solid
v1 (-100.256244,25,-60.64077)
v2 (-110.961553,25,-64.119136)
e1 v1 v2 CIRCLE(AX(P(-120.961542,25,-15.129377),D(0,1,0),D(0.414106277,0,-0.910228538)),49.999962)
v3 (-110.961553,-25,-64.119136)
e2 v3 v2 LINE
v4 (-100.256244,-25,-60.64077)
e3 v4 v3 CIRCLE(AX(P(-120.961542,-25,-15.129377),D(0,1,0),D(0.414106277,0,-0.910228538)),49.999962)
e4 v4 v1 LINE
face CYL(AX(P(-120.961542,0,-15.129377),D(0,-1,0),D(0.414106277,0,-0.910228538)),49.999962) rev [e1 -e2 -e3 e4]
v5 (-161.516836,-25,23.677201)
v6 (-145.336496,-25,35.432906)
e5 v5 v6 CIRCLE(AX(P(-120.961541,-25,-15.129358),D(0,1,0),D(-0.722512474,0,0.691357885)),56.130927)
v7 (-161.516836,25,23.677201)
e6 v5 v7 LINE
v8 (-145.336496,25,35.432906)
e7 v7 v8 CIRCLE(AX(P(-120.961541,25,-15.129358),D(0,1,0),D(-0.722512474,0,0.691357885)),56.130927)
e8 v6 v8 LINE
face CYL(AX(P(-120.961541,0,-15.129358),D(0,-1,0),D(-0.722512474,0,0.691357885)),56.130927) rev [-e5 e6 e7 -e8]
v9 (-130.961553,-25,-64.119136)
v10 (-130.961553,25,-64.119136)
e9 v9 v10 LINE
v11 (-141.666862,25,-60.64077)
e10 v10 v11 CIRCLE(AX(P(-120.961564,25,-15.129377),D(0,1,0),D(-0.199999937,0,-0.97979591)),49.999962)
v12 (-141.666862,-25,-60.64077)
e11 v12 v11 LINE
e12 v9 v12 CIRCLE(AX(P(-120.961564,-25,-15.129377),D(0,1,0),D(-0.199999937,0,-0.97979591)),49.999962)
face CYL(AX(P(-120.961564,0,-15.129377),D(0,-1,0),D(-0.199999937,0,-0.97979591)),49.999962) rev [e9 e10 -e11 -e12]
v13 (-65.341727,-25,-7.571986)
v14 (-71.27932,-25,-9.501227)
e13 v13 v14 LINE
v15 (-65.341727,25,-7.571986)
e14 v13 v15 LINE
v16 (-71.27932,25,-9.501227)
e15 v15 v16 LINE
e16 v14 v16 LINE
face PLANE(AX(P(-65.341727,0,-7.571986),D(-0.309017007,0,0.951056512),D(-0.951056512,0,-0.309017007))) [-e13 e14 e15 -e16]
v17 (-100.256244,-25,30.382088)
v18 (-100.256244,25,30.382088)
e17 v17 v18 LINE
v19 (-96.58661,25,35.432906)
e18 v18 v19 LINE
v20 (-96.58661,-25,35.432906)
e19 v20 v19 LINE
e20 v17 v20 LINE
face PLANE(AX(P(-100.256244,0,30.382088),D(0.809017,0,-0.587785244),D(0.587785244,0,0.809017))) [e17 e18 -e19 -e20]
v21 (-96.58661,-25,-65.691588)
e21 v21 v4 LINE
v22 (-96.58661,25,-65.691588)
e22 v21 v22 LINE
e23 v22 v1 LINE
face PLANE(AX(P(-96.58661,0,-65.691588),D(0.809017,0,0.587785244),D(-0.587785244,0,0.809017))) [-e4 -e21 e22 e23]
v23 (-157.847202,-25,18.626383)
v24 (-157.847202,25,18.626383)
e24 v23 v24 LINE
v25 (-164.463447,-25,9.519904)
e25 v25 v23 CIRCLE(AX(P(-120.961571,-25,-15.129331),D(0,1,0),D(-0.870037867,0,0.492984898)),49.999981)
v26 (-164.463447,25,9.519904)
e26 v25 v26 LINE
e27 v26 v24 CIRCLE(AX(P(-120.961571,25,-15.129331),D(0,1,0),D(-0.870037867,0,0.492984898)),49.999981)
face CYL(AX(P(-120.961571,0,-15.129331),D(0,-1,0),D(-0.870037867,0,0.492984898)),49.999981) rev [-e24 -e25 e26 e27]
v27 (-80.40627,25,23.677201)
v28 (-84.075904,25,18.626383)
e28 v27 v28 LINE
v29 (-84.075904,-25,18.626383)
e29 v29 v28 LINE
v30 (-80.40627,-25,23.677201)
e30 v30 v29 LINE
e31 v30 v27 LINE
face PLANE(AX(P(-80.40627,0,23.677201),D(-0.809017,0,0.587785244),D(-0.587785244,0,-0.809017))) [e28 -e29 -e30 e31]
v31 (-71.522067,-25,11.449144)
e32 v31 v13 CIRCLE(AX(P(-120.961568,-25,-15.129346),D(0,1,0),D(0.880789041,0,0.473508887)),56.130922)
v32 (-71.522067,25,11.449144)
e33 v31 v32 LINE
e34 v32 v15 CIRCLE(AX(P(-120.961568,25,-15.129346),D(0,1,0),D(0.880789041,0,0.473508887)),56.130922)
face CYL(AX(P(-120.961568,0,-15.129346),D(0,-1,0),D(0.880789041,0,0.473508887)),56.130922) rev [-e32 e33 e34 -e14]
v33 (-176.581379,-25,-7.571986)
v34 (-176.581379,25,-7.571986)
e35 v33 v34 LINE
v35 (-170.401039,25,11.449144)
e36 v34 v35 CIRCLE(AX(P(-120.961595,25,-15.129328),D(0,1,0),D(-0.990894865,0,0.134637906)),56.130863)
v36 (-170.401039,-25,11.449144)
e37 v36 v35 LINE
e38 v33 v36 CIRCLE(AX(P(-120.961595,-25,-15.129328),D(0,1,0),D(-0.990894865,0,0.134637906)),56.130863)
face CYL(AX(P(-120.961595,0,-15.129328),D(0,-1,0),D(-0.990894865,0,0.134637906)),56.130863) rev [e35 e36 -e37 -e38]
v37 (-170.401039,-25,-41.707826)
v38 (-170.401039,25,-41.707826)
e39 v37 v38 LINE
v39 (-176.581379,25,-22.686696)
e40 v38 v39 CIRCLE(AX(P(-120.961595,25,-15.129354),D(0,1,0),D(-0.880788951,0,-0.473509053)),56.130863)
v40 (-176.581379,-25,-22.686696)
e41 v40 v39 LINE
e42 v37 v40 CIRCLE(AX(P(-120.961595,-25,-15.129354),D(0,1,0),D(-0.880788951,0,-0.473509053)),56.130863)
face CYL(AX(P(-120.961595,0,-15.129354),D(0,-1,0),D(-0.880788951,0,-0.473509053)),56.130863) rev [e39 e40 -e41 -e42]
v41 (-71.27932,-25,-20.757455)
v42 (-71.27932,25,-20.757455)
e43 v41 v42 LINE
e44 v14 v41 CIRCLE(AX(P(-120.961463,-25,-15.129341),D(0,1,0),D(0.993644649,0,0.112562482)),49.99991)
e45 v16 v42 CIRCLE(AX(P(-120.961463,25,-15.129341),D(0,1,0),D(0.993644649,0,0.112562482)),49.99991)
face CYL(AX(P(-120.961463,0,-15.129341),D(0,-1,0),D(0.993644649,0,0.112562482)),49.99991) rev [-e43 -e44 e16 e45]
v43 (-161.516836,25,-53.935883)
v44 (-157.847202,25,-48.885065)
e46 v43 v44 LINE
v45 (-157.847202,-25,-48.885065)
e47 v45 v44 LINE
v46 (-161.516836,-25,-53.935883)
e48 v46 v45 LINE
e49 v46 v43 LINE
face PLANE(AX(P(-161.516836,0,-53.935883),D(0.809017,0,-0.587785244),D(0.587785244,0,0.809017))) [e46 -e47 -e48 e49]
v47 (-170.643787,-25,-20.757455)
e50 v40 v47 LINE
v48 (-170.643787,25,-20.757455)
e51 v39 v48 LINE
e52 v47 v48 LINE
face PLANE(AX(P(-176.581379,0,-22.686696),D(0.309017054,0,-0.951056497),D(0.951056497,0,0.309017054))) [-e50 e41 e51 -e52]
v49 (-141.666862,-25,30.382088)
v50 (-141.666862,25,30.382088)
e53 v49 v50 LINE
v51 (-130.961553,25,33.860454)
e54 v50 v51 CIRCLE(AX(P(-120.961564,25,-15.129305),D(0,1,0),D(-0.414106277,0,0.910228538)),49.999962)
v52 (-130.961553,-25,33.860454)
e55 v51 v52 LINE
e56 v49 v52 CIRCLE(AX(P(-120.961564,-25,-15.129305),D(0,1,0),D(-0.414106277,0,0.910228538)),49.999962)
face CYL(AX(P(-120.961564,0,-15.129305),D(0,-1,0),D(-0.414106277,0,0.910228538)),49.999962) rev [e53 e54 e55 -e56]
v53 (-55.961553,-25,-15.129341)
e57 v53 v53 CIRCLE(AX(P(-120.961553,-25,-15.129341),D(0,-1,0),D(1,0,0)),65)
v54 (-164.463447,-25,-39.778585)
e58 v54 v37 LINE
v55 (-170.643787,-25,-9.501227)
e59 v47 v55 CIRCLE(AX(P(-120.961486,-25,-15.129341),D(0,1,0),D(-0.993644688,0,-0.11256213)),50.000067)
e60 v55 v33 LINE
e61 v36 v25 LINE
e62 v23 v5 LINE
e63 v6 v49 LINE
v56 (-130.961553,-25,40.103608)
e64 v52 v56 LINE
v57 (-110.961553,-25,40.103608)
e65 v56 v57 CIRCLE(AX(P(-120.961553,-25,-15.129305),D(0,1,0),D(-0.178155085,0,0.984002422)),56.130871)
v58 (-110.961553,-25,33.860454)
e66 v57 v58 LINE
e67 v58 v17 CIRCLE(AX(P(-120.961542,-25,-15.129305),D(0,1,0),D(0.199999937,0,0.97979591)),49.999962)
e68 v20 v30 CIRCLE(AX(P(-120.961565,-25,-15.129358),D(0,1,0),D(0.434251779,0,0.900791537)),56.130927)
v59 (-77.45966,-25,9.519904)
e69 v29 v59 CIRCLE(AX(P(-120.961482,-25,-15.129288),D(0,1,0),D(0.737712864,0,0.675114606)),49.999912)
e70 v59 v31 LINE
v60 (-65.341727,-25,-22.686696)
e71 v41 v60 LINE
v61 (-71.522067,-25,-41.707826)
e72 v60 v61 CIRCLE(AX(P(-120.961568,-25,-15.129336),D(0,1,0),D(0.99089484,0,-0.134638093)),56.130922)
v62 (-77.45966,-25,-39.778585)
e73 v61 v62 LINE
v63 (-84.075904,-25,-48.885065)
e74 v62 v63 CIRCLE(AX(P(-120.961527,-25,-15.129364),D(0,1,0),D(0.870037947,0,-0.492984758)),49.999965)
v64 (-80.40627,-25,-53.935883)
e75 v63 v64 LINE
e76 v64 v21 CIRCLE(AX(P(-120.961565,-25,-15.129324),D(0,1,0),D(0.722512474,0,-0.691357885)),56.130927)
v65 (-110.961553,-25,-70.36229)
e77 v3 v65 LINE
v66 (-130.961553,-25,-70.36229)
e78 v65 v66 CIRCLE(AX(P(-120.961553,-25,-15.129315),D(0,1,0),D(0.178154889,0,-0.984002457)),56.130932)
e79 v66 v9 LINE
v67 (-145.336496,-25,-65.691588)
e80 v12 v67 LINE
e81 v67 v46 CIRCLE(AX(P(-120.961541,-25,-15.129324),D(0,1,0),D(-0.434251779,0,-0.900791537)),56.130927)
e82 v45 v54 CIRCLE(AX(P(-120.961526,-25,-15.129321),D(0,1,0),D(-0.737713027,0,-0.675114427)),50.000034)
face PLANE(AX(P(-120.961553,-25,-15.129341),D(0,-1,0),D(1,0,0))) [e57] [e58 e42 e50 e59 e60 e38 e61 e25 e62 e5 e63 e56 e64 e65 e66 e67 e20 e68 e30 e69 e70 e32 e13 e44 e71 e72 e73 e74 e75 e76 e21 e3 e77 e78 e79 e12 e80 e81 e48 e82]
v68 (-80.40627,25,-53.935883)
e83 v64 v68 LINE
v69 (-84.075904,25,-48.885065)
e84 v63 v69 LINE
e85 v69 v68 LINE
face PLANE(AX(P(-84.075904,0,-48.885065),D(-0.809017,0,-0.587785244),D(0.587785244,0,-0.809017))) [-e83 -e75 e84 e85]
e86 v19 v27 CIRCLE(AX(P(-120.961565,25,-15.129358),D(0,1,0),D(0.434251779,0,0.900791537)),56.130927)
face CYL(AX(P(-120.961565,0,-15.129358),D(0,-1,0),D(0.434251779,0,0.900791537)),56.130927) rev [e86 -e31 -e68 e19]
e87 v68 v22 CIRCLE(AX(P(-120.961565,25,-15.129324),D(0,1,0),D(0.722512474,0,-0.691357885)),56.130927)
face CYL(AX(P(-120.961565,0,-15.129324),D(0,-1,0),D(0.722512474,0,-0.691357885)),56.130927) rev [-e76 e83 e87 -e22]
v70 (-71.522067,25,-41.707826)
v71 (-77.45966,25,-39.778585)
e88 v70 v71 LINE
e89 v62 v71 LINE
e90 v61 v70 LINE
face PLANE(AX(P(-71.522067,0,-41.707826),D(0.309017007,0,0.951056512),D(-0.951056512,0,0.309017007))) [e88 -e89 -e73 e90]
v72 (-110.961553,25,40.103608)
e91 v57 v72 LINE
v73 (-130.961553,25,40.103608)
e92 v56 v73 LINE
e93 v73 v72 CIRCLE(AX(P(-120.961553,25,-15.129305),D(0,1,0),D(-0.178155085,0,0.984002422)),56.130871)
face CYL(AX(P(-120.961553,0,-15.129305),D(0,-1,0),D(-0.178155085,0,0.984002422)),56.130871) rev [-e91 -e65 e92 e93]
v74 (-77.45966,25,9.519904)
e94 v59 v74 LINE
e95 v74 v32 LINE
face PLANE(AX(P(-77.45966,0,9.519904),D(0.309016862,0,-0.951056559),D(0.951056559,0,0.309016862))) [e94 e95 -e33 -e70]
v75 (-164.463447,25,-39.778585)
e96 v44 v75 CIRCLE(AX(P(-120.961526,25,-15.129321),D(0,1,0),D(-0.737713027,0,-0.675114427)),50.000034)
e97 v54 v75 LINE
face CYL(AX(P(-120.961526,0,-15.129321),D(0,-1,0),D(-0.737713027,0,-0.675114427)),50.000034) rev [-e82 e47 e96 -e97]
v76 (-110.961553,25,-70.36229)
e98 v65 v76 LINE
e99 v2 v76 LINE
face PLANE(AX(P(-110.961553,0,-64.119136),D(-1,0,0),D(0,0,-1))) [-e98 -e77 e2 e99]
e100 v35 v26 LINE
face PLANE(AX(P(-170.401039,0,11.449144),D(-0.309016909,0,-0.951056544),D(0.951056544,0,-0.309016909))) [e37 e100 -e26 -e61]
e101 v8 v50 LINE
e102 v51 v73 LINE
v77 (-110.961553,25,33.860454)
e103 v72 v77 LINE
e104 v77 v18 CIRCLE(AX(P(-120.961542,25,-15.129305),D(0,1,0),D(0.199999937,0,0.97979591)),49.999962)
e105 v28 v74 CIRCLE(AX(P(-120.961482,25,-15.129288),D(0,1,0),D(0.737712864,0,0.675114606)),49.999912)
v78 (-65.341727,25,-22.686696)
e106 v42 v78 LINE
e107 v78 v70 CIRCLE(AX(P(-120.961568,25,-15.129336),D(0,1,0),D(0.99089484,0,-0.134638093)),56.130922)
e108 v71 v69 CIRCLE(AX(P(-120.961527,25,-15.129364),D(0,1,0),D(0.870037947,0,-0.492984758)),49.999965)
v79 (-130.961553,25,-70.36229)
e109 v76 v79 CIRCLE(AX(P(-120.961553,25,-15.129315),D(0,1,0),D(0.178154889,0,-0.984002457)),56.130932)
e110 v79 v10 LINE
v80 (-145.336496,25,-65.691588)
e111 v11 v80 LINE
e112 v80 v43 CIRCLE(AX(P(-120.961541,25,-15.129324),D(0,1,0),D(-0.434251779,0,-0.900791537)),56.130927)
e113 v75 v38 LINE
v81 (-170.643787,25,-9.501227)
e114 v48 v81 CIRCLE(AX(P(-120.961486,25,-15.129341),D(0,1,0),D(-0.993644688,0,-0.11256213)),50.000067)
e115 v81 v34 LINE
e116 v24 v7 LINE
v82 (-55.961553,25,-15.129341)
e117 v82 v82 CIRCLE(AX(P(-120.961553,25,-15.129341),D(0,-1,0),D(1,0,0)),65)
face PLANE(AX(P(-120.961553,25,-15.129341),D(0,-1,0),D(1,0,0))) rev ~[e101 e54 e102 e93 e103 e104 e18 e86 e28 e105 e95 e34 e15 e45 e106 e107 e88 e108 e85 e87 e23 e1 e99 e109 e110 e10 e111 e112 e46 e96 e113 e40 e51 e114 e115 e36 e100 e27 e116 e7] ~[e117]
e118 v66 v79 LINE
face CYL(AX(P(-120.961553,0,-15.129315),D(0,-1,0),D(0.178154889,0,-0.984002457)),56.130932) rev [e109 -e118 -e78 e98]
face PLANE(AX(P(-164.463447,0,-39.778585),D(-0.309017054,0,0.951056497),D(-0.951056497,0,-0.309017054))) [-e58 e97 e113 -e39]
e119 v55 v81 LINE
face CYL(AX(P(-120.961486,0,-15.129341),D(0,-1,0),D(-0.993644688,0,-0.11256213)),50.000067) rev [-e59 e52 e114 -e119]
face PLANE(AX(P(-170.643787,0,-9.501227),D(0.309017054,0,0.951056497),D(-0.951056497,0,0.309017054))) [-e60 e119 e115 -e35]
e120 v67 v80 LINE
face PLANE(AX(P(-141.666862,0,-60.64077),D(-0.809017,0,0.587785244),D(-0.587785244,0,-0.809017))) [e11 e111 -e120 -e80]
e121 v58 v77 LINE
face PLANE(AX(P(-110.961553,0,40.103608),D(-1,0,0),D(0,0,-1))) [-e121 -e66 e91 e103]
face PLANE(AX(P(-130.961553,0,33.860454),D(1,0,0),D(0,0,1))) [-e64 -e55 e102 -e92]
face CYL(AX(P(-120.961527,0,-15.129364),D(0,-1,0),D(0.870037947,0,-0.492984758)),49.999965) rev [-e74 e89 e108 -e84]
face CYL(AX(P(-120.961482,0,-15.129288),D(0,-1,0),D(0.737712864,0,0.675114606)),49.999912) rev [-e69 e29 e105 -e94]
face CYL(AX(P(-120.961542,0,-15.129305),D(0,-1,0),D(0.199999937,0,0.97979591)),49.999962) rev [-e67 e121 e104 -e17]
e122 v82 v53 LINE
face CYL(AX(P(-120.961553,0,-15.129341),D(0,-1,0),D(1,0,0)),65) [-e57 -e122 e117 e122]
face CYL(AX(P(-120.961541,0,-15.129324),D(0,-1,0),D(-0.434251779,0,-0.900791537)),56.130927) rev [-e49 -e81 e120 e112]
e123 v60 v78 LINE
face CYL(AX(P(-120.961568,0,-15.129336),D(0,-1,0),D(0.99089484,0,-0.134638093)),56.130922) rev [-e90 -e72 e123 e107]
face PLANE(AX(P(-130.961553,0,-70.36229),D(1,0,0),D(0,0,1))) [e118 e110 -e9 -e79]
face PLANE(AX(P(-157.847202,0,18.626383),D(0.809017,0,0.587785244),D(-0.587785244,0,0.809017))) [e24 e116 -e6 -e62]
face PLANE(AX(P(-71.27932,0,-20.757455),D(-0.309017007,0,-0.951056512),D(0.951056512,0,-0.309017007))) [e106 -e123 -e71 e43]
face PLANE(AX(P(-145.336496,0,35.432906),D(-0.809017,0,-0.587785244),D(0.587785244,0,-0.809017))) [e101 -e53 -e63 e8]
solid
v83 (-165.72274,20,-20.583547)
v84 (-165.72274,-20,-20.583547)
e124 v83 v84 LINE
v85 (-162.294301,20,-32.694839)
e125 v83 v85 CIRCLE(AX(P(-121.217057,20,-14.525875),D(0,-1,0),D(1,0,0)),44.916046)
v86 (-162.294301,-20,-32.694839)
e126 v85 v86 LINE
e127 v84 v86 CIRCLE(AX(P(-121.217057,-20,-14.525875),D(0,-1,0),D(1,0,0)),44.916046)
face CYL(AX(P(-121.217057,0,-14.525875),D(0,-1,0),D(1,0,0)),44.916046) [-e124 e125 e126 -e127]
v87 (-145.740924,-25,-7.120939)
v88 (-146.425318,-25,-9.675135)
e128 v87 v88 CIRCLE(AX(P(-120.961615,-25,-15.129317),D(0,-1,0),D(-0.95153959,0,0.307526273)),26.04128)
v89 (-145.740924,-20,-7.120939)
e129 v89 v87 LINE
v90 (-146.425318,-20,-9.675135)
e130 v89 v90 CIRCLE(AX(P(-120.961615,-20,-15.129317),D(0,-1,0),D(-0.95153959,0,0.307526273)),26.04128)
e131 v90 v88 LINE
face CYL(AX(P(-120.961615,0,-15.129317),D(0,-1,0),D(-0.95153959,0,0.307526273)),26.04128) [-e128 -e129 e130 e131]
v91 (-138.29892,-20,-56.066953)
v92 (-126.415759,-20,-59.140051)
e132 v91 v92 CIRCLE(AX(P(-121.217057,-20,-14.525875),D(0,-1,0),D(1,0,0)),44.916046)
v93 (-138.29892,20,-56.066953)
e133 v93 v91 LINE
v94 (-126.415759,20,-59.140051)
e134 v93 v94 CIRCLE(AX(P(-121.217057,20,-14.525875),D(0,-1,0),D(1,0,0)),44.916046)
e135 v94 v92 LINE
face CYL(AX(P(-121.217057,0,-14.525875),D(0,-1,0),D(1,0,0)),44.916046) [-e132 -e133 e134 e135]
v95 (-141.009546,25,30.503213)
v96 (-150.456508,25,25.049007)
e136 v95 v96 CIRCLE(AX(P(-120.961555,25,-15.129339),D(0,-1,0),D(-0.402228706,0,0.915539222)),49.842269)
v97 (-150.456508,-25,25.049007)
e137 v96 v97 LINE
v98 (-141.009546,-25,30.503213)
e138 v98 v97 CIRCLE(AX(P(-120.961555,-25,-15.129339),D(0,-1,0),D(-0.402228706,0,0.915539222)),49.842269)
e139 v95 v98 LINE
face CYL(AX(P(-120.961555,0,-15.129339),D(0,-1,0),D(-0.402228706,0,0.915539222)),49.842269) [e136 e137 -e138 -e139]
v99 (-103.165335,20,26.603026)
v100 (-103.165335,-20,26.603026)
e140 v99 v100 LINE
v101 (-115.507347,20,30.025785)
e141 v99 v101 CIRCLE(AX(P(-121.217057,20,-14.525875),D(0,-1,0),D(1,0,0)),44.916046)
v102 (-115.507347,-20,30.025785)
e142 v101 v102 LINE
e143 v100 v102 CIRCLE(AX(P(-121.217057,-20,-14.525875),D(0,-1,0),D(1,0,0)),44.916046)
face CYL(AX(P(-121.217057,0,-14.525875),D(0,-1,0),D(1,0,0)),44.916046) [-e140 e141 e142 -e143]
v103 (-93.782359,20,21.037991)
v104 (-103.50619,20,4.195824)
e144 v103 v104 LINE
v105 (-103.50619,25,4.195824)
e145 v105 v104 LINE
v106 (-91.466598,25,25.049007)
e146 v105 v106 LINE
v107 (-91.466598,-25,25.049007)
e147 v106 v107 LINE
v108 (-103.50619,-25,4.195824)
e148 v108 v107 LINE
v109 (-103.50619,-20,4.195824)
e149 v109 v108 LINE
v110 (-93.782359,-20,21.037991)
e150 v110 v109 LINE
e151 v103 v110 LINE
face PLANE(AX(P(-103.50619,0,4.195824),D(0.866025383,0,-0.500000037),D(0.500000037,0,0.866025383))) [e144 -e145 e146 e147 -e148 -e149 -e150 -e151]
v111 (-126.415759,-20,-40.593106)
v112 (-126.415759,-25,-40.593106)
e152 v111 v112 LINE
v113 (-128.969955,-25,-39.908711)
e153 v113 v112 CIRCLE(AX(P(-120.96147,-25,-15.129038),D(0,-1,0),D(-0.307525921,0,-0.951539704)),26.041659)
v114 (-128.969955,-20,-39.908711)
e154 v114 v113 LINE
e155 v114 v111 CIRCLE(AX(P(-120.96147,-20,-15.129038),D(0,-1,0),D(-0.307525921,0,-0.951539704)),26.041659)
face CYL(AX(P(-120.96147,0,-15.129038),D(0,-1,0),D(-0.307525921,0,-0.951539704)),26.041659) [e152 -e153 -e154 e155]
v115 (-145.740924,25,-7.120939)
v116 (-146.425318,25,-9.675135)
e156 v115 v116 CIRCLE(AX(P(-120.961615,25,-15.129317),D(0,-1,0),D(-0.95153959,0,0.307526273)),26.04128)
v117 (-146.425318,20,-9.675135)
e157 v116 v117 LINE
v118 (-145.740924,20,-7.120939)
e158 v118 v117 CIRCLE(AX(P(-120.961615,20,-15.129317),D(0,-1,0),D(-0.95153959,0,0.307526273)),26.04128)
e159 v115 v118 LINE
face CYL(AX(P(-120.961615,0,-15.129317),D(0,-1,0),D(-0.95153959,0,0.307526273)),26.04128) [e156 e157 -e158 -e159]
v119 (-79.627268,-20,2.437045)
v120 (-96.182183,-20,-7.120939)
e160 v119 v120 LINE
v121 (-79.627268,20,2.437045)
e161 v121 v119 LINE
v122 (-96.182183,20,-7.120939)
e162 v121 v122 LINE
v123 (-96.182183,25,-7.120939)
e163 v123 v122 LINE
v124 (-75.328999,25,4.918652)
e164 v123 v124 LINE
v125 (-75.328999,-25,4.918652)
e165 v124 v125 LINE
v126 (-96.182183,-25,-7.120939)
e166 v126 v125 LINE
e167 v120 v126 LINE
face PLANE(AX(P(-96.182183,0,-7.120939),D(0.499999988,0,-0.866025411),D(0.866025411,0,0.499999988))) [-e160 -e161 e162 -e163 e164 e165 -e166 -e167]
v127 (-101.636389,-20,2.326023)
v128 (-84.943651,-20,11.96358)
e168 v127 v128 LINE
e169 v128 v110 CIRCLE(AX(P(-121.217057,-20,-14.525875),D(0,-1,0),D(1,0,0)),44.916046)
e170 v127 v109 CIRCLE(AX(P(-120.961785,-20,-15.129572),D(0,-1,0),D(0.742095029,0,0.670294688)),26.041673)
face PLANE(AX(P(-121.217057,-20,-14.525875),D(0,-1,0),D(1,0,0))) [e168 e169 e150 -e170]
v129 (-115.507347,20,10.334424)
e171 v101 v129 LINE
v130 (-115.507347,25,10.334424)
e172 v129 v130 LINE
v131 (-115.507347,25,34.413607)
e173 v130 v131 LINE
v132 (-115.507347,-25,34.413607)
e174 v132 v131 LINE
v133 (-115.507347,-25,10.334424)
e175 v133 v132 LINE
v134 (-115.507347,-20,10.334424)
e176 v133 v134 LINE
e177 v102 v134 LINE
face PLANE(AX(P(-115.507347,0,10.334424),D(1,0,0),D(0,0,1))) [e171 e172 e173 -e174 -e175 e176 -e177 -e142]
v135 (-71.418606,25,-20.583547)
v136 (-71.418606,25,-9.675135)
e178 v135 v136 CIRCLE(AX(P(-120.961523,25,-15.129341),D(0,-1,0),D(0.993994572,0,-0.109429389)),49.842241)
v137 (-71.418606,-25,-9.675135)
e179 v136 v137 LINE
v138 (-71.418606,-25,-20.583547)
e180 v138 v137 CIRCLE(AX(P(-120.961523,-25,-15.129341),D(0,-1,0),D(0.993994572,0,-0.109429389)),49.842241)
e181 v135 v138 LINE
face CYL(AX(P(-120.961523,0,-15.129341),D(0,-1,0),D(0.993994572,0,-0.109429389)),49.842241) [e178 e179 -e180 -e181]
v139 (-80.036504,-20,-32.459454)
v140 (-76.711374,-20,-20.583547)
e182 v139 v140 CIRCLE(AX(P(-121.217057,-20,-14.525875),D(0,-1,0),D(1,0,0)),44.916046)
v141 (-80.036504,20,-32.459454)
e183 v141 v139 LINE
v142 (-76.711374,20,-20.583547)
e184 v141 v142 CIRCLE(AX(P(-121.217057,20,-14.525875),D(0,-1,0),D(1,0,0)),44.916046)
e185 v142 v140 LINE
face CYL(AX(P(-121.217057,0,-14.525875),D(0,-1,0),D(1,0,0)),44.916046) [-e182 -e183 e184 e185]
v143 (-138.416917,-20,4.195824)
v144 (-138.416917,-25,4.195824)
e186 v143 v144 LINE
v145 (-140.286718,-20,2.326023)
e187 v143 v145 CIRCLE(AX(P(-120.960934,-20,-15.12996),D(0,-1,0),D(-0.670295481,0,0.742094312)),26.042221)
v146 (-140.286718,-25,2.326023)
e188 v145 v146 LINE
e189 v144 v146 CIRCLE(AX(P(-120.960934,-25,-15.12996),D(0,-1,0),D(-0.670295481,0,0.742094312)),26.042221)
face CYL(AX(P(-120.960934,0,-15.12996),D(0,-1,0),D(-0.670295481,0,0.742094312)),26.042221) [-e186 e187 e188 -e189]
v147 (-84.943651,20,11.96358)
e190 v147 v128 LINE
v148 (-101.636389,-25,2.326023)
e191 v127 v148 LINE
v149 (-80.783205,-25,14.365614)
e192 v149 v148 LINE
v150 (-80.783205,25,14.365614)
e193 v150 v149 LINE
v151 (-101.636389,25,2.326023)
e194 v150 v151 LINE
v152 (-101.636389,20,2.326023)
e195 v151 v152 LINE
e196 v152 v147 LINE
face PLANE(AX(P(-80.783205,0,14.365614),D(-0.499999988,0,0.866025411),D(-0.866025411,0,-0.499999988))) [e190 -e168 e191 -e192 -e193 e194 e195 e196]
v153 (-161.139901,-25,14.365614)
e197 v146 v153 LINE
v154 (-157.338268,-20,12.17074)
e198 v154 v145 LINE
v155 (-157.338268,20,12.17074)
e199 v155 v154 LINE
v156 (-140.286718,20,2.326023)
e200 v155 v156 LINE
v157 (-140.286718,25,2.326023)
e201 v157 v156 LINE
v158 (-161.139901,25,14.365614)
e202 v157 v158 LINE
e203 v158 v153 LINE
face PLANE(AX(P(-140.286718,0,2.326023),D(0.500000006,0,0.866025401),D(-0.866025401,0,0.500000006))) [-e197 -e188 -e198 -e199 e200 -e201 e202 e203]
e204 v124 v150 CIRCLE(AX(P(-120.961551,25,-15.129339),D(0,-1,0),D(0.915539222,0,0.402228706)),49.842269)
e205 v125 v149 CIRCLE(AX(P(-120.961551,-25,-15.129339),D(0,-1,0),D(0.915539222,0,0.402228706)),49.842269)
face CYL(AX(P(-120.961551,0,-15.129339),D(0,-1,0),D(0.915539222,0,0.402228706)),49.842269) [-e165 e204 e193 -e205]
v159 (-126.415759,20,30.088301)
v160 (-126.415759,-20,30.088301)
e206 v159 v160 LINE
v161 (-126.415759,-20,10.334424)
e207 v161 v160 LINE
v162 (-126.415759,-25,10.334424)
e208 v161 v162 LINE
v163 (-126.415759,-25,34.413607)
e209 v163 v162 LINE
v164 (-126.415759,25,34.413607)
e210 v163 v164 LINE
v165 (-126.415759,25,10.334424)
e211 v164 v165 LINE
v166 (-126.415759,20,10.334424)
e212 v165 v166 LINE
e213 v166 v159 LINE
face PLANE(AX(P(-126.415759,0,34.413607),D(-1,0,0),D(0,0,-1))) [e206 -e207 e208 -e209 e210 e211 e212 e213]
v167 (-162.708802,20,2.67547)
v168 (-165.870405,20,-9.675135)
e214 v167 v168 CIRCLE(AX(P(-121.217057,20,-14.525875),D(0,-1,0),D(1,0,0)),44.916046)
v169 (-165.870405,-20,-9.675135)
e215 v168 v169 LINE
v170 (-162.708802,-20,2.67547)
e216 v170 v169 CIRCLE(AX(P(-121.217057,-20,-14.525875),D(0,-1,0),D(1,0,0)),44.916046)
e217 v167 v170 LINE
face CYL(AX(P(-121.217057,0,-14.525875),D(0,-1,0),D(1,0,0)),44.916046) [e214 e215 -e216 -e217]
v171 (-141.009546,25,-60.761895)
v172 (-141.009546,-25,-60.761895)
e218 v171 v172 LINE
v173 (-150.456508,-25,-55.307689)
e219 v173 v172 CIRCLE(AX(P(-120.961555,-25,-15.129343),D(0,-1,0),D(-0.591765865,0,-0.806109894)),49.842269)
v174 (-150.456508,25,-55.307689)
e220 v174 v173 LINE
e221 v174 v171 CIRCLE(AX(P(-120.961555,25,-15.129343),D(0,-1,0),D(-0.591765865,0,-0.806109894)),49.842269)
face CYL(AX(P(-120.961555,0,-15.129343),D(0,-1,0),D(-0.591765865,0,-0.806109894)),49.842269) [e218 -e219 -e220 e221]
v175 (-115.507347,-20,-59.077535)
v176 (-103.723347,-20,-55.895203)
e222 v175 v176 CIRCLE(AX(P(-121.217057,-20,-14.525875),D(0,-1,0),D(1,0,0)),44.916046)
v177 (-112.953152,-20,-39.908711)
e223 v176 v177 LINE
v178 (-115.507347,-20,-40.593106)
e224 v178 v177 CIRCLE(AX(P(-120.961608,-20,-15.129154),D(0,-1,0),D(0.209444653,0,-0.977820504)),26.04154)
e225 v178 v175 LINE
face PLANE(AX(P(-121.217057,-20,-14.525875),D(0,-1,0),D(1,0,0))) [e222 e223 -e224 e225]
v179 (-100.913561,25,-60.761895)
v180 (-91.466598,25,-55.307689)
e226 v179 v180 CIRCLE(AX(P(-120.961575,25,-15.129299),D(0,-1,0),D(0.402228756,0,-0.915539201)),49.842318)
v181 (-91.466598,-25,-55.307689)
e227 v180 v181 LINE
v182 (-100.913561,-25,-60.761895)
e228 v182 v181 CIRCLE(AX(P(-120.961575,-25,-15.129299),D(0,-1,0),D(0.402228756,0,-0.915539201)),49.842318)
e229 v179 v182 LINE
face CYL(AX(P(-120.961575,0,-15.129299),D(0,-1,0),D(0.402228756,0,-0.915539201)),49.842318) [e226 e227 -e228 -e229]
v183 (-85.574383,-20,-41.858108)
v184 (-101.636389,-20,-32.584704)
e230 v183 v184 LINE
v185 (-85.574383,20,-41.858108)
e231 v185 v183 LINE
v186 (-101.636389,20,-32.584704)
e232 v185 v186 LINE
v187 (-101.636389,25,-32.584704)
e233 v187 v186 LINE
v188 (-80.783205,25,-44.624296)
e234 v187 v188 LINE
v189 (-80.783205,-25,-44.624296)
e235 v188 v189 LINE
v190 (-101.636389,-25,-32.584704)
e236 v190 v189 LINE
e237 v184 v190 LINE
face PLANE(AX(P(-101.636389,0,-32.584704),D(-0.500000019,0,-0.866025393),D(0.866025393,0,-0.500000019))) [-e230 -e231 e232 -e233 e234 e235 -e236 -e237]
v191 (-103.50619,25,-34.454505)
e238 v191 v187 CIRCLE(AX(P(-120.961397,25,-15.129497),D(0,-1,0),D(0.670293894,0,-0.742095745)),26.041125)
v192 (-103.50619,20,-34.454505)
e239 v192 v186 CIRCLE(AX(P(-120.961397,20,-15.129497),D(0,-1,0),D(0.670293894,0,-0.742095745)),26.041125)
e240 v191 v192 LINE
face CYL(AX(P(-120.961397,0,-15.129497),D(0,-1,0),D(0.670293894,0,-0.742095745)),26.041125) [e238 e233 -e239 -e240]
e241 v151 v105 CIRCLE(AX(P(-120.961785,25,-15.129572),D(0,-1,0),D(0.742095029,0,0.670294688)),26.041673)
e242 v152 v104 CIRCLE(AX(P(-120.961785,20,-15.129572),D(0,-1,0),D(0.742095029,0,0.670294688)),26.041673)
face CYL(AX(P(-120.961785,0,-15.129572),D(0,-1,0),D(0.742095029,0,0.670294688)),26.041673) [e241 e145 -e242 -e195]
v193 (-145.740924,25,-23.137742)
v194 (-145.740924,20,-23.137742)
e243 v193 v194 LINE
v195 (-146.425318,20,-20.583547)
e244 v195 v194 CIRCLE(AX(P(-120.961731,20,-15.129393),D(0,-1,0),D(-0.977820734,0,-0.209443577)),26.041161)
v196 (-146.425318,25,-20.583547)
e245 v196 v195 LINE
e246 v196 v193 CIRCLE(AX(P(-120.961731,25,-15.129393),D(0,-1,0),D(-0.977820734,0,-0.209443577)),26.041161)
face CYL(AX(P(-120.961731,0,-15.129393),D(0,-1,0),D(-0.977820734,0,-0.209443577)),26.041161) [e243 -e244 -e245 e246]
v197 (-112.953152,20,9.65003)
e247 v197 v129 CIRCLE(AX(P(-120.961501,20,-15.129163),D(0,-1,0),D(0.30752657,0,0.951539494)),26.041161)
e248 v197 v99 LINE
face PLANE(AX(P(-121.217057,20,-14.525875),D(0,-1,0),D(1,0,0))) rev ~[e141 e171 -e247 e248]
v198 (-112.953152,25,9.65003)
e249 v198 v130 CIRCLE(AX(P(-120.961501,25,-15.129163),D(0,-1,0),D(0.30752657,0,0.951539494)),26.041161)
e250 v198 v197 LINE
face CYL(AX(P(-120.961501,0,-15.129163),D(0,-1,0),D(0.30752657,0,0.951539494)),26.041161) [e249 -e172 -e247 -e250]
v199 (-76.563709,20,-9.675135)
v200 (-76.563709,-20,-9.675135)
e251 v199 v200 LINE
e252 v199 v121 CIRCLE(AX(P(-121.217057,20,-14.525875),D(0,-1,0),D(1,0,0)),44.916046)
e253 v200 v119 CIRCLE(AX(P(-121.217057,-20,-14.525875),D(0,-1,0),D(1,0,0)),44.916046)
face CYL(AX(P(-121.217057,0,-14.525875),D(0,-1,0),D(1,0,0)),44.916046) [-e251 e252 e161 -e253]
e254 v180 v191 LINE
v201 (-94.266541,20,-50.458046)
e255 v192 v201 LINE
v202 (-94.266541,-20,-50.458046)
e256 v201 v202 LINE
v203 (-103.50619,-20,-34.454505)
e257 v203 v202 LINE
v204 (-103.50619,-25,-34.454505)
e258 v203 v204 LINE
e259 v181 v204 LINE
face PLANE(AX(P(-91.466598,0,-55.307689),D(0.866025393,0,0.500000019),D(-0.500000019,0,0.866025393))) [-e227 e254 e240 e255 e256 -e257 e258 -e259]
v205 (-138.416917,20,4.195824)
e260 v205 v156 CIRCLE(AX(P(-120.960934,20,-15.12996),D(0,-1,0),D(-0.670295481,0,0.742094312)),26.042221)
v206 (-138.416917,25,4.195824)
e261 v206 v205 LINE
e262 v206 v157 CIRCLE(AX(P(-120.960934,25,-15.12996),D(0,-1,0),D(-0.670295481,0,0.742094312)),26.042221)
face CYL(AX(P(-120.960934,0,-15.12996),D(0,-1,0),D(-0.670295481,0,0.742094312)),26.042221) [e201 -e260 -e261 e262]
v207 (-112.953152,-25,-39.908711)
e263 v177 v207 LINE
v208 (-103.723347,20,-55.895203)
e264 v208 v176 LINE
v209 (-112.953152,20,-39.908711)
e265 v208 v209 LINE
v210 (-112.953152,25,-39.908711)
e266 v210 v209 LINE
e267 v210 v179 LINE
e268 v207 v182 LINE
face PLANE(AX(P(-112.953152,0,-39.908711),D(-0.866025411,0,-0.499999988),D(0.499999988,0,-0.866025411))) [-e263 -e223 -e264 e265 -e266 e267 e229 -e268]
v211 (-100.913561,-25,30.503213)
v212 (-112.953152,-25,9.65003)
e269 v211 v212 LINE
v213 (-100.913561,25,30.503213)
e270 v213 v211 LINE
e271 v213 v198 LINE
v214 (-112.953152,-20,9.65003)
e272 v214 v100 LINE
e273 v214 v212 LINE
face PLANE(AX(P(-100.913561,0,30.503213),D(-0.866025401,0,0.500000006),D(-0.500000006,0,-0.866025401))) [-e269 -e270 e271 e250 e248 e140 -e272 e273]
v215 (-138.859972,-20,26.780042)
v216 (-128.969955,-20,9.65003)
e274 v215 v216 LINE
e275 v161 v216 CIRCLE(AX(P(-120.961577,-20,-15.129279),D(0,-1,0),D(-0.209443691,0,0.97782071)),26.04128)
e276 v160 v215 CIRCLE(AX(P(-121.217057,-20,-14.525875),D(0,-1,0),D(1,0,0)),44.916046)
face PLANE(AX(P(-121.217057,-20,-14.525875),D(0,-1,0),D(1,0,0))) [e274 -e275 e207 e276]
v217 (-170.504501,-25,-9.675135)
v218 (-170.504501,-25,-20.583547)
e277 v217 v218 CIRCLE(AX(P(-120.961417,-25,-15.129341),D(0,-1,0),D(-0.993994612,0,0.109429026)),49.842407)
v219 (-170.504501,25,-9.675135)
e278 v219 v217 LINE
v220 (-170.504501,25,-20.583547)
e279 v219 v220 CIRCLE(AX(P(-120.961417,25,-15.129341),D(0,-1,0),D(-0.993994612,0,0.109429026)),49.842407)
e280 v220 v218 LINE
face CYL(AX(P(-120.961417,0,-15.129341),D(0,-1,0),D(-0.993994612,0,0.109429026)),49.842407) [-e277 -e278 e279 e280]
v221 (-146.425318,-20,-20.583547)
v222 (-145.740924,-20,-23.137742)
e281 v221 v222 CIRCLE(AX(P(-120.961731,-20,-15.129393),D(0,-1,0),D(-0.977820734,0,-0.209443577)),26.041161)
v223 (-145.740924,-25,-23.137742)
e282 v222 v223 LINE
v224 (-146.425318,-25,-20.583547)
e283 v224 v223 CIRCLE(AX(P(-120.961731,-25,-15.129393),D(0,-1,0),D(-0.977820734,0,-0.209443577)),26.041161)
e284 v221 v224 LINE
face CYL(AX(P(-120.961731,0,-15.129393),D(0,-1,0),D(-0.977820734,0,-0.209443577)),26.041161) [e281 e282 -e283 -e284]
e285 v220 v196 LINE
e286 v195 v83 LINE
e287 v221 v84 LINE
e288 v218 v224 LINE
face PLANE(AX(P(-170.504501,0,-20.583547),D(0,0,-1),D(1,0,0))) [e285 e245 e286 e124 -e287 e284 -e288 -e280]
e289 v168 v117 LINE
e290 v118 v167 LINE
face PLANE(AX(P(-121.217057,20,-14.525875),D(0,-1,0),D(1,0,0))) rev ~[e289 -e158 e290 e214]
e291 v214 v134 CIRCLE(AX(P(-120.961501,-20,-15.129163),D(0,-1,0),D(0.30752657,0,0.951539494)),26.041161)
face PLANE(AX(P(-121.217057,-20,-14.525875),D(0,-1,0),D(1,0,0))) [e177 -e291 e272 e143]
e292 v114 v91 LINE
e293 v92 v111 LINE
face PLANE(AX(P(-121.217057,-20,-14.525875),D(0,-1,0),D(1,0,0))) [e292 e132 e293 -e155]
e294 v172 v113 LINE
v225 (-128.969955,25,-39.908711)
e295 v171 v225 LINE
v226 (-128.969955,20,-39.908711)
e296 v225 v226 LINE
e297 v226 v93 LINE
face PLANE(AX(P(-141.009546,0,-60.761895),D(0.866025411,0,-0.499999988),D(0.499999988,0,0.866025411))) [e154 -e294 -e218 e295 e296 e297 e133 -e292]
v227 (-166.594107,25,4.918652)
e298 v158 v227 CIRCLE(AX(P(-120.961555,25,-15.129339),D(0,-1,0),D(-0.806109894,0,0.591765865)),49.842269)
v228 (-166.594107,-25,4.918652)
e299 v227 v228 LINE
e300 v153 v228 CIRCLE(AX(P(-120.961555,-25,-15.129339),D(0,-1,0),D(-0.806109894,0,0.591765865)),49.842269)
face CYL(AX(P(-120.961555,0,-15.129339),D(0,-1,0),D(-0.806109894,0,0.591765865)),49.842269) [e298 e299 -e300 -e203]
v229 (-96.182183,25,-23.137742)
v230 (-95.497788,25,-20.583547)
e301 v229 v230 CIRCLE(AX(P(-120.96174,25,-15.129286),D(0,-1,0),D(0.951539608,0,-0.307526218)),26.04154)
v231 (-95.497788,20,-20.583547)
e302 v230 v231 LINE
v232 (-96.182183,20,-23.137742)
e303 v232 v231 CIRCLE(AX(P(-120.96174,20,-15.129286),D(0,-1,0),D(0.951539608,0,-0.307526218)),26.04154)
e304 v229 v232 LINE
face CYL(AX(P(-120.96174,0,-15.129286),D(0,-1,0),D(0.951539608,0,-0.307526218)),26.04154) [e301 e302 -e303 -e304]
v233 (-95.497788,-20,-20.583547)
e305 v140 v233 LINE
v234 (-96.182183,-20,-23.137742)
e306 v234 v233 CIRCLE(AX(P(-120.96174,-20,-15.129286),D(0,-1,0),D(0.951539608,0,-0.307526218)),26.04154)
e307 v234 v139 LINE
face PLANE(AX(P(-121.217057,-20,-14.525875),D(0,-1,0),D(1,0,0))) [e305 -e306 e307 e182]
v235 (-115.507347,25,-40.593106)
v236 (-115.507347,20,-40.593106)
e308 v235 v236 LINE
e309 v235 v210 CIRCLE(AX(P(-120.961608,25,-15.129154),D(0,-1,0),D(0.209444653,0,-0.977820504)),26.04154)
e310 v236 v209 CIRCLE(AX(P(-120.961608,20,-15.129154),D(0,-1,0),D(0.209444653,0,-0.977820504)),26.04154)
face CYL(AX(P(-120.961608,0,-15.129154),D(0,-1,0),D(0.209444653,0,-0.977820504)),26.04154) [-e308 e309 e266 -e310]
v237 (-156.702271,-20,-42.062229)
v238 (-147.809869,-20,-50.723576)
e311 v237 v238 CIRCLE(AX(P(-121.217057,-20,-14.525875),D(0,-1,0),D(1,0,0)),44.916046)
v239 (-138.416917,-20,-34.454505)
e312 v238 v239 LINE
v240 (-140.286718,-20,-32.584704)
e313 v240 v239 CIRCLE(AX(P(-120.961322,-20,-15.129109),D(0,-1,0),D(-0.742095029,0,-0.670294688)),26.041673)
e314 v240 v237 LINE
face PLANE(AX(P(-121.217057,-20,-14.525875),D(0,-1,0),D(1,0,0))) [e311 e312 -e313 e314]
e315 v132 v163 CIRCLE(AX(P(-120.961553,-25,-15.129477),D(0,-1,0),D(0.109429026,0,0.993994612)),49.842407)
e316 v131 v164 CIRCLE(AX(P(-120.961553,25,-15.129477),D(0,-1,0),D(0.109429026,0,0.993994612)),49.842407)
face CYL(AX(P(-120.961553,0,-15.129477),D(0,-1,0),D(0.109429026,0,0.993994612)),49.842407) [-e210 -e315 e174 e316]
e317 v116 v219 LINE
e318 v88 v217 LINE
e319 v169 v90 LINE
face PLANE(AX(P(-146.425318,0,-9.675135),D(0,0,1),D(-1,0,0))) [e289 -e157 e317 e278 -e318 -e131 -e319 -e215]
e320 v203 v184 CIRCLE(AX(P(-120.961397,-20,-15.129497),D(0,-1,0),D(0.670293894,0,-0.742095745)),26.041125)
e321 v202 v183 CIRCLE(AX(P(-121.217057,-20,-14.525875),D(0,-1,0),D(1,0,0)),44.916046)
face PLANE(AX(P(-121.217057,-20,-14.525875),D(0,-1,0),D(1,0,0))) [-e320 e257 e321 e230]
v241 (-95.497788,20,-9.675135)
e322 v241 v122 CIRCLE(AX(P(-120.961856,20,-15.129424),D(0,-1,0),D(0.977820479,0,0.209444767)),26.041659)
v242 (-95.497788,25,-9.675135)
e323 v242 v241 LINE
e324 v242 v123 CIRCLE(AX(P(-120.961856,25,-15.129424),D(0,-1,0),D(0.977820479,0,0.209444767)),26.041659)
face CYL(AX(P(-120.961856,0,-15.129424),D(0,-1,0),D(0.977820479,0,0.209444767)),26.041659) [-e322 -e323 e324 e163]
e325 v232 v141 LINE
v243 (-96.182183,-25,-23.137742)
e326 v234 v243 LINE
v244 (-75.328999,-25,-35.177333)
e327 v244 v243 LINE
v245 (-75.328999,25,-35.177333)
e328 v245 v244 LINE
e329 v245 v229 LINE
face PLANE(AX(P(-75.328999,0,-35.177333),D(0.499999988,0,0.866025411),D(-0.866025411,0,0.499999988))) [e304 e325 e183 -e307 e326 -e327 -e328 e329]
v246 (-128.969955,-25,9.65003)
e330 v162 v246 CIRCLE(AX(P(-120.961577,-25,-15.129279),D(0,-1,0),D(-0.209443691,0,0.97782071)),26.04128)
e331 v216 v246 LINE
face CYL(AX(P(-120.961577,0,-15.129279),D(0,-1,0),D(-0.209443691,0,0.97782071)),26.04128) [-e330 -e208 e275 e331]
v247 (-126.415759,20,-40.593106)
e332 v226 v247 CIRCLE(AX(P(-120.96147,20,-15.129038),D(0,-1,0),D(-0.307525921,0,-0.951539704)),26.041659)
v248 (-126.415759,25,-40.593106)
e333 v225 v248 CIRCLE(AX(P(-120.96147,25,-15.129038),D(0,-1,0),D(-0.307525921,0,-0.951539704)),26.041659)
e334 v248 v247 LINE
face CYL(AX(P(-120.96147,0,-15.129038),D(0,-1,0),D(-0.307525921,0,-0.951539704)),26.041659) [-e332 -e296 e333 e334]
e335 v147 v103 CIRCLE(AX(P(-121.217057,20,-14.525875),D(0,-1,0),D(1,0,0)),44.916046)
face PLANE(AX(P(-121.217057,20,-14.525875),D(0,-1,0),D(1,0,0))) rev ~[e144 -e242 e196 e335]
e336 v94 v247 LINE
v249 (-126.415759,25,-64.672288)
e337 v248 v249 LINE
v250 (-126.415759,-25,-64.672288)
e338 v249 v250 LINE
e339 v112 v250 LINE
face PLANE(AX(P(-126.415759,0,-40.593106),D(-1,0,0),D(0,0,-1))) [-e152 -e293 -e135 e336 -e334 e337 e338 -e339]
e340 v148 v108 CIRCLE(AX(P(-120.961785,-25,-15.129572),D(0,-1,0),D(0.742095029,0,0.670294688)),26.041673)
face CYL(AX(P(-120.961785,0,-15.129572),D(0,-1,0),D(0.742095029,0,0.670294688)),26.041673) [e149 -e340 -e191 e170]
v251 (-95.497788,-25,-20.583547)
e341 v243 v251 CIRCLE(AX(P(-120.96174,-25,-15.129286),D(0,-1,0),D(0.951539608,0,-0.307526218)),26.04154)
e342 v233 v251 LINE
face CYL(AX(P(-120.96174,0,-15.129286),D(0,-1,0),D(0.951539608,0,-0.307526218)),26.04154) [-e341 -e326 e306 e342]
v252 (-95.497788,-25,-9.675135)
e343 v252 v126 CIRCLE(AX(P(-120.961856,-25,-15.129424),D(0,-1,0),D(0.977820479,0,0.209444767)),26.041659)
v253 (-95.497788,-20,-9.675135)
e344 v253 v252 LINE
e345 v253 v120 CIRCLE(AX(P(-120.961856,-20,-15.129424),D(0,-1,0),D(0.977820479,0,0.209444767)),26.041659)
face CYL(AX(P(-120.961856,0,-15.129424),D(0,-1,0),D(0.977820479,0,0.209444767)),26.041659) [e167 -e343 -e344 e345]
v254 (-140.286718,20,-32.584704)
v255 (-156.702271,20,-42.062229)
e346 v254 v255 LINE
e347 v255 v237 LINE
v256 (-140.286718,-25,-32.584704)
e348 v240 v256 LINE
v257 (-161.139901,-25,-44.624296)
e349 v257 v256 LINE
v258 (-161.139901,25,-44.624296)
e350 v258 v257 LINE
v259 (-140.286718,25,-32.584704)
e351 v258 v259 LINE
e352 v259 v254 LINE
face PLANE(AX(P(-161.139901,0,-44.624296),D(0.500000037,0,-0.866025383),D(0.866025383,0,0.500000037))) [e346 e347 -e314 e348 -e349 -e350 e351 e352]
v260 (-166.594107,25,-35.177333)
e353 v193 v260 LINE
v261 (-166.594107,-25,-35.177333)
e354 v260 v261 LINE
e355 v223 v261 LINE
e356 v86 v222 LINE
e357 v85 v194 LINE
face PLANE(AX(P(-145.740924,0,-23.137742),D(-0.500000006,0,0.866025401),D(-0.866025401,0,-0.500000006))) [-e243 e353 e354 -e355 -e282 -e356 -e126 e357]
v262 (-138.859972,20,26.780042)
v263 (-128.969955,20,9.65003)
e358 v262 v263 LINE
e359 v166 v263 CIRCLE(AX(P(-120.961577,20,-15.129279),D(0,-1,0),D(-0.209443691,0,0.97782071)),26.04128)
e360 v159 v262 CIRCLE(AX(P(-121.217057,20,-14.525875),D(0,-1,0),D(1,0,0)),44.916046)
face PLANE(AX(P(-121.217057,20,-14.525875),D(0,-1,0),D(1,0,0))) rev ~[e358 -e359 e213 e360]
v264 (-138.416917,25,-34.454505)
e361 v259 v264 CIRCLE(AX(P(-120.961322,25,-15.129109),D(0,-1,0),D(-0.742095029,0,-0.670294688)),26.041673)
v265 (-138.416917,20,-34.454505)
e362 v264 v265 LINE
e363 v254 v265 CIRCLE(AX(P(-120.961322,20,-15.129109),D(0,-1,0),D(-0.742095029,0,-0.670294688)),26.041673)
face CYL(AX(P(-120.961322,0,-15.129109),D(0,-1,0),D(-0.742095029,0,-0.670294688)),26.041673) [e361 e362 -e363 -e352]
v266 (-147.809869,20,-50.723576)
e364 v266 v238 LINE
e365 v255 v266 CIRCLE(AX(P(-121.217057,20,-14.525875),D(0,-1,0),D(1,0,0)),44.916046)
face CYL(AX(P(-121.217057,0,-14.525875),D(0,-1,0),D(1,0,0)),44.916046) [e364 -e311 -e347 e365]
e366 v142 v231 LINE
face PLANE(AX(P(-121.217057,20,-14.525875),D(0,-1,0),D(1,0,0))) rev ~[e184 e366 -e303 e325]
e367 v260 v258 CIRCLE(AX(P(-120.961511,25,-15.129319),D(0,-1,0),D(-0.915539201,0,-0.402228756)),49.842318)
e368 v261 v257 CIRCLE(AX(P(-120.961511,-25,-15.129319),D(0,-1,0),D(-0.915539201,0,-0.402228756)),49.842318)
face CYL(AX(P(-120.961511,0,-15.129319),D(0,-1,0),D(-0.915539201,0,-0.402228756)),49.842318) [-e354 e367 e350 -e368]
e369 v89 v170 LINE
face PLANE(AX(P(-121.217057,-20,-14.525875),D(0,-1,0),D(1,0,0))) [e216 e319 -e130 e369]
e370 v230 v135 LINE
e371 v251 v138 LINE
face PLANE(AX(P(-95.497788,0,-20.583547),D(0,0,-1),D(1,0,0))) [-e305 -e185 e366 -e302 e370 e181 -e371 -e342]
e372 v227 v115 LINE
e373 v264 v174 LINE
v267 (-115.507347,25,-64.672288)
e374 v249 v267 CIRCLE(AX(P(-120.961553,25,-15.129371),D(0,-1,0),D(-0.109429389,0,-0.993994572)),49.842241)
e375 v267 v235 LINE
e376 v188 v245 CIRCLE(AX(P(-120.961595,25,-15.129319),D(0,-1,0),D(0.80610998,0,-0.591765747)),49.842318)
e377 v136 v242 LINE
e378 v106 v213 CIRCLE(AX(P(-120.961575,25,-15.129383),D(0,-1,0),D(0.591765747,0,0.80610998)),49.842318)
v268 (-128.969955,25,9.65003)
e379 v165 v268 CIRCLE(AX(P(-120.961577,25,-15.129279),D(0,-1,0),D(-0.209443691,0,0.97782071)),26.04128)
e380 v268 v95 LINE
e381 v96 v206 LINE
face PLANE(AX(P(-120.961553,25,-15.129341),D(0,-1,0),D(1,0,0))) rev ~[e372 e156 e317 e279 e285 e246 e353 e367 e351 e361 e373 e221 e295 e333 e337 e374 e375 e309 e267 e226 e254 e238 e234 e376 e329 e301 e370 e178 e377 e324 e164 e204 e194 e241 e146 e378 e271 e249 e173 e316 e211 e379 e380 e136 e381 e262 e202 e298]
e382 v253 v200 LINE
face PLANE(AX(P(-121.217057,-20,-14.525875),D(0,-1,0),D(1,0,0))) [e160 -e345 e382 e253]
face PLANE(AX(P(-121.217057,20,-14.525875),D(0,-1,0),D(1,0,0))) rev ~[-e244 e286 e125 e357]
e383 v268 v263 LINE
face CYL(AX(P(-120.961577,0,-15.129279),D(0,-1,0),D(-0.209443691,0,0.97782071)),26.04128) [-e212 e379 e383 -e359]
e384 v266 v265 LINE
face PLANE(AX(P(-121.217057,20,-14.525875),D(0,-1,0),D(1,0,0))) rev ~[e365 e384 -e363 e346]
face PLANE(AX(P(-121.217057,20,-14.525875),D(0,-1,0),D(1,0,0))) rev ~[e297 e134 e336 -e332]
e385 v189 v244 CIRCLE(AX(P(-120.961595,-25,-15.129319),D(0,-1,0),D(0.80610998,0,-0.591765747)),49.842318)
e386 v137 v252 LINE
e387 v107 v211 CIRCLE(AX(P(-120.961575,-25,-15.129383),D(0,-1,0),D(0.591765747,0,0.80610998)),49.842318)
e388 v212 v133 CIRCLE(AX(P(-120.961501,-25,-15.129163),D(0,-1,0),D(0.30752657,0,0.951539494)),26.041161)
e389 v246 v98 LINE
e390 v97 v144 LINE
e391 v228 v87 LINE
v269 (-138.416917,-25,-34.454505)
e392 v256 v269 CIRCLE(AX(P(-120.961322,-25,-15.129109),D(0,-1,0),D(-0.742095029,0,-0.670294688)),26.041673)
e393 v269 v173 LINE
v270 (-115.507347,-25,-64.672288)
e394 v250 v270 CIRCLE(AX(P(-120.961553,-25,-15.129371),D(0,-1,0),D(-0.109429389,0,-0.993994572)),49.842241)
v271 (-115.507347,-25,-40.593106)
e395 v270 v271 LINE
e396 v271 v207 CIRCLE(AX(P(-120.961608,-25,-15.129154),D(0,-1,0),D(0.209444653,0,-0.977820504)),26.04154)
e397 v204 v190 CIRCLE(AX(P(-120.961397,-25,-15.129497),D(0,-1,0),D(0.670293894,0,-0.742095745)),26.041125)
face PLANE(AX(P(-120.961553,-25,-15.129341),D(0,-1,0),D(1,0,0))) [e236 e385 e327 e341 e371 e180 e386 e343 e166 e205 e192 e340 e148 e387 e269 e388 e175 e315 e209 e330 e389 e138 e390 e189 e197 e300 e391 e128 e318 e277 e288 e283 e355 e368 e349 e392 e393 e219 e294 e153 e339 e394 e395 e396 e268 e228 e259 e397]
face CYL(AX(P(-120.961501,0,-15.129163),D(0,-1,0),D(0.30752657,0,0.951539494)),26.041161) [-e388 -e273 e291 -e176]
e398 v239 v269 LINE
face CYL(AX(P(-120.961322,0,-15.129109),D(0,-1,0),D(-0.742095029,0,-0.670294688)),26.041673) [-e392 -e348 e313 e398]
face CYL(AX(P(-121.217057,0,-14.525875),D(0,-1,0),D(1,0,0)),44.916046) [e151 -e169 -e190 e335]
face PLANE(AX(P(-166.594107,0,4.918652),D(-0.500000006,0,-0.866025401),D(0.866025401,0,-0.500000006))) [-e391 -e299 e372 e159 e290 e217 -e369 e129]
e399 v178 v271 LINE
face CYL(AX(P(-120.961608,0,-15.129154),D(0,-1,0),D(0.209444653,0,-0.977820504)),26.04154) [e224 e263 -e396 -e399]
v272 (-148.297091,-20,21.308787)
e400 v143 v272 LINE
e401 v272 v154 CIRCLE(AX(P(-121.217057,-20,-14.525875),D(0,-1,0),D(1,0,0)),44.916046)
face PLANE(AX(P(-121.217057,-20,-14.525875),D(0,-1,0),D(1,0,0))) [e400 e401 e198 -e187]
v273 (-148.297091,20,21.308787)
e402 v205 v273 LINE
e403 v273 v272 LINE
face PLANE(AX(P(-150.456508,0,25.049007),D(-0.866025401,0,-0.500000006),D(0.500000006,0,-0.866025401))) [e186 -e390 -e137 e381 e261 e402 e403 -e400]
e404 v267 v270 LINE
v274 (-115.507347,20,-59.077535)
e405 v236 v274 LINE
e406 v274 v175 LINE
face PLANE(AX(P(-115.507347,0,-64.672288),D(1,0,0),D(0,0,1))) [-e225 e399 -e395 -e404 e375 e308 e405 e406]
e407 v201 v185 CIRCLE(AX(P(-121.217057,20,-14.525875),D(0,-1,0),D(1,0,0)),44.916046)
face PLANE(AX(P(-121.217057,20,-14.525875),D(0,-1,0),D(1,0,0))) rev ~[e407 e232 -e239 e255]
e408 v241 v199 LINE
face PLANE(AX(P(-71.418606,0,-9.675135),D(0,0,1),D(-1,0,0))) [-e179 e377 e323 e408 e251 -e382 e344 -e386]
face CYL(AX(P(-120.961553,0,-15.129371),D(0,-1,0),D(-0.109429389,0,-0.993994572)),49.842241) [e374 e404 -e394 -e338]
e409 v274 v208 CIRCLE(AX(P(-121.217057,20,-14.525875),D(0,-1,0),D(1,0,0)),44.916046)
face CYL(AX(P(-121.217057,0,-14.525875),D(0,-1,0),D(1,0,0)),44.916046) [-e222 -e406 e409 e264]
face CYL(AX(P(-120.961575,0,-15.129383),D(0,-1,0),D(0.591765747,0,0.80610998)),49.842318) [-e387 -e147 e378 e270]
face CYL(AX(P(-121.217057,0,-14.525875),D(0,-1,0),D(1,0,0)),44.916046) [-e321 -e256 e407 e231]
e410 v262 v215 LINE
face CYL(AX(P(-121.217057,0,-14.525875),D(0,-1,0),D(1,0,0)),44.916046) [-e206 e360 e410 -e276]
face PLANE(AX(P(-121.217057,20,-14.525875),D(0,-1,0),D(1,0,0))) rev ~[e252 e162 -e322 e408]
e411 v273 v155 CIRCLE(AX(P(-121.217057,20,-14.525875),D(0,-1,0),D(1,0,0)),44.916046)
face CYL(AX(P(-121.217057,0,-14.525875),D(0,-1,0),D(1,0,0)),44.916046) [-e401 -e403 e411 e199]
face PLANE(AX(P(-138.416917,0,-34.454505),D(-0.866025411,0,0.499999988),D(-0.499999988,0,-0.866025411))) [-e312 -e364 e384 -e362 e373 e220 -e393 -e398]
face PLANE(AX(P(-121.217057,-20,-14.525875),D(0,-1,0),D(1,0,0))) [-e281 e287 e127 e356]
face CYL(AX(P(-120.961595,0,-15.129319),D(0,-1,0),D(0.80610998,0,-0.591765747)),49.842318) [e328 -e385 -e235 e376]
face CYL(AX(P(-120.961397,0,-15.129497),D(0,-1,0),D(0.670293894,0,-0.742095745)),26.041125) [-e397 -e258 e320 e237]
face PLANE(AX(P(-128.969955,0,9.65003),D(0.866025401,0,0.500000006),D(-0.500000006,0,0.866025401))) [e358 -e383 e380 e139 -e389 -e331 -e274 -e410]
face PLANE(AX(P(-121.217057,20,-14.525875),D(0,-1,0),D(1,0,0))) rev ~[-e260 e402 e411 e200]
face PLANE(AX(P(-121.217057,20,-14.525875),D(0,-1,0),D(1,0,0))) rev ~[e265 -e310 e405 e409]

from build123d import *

# Parameters (mm, degrees)
F0_R     = 65
F2_DEPTH = 25
F3_DEPTH = 25
F1_R     = 44.916046
F4_DEPTH = 20


with BuildPart() as f2:
    # F0 (on Front) → F2 (new body, symmetric)
    with BuildSketch(Plane.XZ):
        with Locations((-120.961553, -15.129341)):
            Circle(F0_R)
        with BuildLine():
            Line((-130.961553, 33.860454), (-130.961553, 40.103608))
            ThreePointArc((-130.961553, 40.103608), (-120.961553, 41.001566), (-110.961553, 40.103608))
            Line((-110.961553, 40.103608), (-110.961553, 33.860454))
            ThreePointArc((-110.961553, 33.860454), (-105.510703, 32.423485), (-100.256244, 30.382088))
            Line((-100.256244, 30.382088), (-96.58661, 35.432906))
            ThreePointArc((-96.58661, 35.432906), (-87.968634, 30.281516), (-80.40627, 23.677201))
            Line((-80.40627, 23.677201), (-84.075904, 18.626383))
            ThreePointArc((-84.075904, 18.626383), (-80.510703, 14.259922), (-77.45966, 9.519904))
            Line((-77.45966, 9.519904), (-71.522067, 11.449144))
            ThreePointArc((-71.522067, 11.449144), (-67.577889, 2.216063), (-65.341727, -7.571986))
            Line((-65.341727, -7.571986), (-71.27932, -9.501227))
            ThreePointArc((-71.27932, -9.501227), (-70.961553, -15.129341), (-71.27932, -20.757455))
            Line((-71.27932, -20.757455), (-65.341727, -22.686696))
            ThreePointArc((-65.341727, -22.686696), (-67.577889, -32.474745), (-71.522067, -41.707826))
            Line((-71.522067, -41.707826), (-77.45966, -39.778585))
            ThreePointArc((-77.45966, -39.778585), (-80.510703, -44.518603), (-84.075904, -48.885065))
            Line((-84.075904, -48.885065), (-80.40627, -53.935883))
            ThreePointArc((-80.40627, -53.935883), (-87.968634, -60.540198), (-96.58661, -65.691588))
            Line((-96.58661, -65.691588), (-100.256244, -60.64077))
            ThreePointArc((-100.256244, -60.64077), (-105.510703, -62.682167), (-110.961553, -64.119136))
            Line((-110.961553, -64.119136), (-110.961553, -70.36229))
            ThreePointArc((-110.961553, -70.36229), (-120.961553, -71.260247), (-130.961553, -70.36229))
            Line((-130.961553, -70.36229), (-130.961553, -64.119136))
            ThreePointArc((-130.961553, -64.119136), (-136.412403, -62.682167), (-141.666862, -60.64077))
            Line((-141.666862, -60.64077), (-145.336496, -65.691588))
            ThreePointArc((-145.336496, -65.691588), (-153.954472, -60.540198), (-161.516836, -53.935883))
            Line((-161.516836, -53.935883), (-157.847202, -48.885065))
            ThreePointArc((-157.847202, -48.885065), (-161.412403, -44.518603), (-164.463447, -39.778585))
            Line((-164.463447, -39.778585), (-170.401039, -41.707826))
            ThreePointArc((-170.401039, -41.707826), (-174.345218, -32.474745), (-176.581379, -22.686696))
            Line((-176.581379, -22.686696), (-170.643787, -20.757455))
            ThreePointArc((-170.643787, -20.757455), (-170.961553, -15.129341), (-170.643787, -9.501227))
            Line((-170.643787, -9.501227), (-176.581379, -7.571986))
            ThreePointArc((-176.581379, -7.571986), (-174.345218, 2.216063), (-170.401039, 11.449144))
            Line((-170.401039, 11.449144), (-164.463447, 9.519904))
            ThreePointArc((-164.463447, 9.519904), (-161.412403, 14.259922), (-157.847202, 18.626383))
            Line((-157.847202, 18.626383), (-161.516836, 23.677201))
            ThreePointArc((-161.516836, 23.677201), (-153.954472, 30.281516), (-145.336496, 35.432906))
            Line((-145.336496, 35.432906), (-141.666862, 30.382088))
            ThreePointArc((-141.666862, 30.382088), (-136.412403, 32.423485), (-130.961553, 33.860454))
        make_face(mode=Mode.SUBTRACT)
    extrude(amount=F2_DEPTH, both=True)


with BuildPart() as f3:
    # F0 (on Front) → F3 (new body, symmetric)
    with BuildSketch(Plane.XZ):
        with BuildLine():
            Line((-126.415759, 34.413607), (-126.415759, 32.423485))
            Line((-126.415759, 32.423485), (-126.415759, 10.334424))
            ThreePointArc((-126.415759, 10.334424), (-127.701549, 10.024668), (-128.969955, 9.65003))
            Line((-128.969955, 9.65003), (-141.009546, 30.503213))
            ThreePointArc((-141.009546, 30.503213), (-145.882689, 28.035332), (-150.456508, 25.049007))
            Line((-150.456508, 25.049007), (-138.416917, 4.195824))
            ThreePointArc((-138.416917, 4.195824), (-139.375565, 3.284671), (-140.286718, 2.326023))
            Line((-140.286718, 2.326023), (-161.139901, 14.365614))
            ThreePointArc((-161.139901, 14.365614), (-164.126226, 9.791795), (-166.594107, 4.918652))
            Line((-166.594107, 4.918652), (-145.740924, -7.120939))
            ThreePointArc((-145.740924, -7.120939), (-146.115562, -8.389345), (-146.425318, -9.675135))
            Line((-146.425318, -9.675135), (-170.504501, -9.675135))
            ThreePointArc((-170.504501, -9.675135), (-170.803824, -15.129341), (-170.504501, -20.583547))
            Line((-170.504501, -20.583547), (-146.425318, -20.583547))
            ThreePointArc((-146.425318, -20.583547), (-146.115562, -21.869337), (-145.740924, -23.137742))
            Line((-145.740924, -23.137742), (-166.594107, -35.177333))
            ThreePointArc((-166.594107, -35.177333), (-164.126226, -40.050476), (-161.139901, -44.624296))
            Line((-161.139901, -44.624296), (-140.286718, -32.584704))
            ThreePointArc((-140.286718, -32.584704), (-139.375565, -33.543353), (-138.416917, -34.454505))
            Line((-138.416917, -34.454505), (-150.456508, -55.307689))
            ThreePointArc((-150.456508, -55.307689), (-145.882689, -58.294014), (-141.009546, -60.761895))
            Line((-141.009546, -60.761895), (-128.969955, -39.908711))
            ThreePointArc((-128.969955, -39.908711), (-127.701549, -40.283349), (-126.415759, -40.593106))
            Line((-126.415759, -40.593106), (-126.415759, -64.672288))
            ThreePointArc((-126.415759, -64.672288), (-120.961553, -64.971612), (-115.507347, -64.672288))
            Line((-115.507347, -64.672288), (-115.507347, -40.593106))
            ThreePointArc((-115.507347, -40.593106), (-114.221557, -40.283349), (-112.953152, -39.908711))
            Line((-112.953152, -39.908711), (-100.913561, -60.761895))
            ThreePointArc((-100.913561, -60.761895), (-96.040418, -58.294014), (-91.466598, -55.307689))
            Line((-91.466598, -55.307689), (-103.50619, -34.454505))
            ThreePointArc((-103.50619, -34.454505), (-102.547541, -33.543353), (-101.636389, -32.584704))
            Line((-101.636389, -32.584704), (-80.783205, -44.624296))
            ThreePointArc((-80.783205, -44.624296), (-77.79688, -40.050476), (-75.328999, -35.177333))
            Line((-75.328999, -35.177333), (-96.182183, -23.137742))
            ThreePointArc((-96.182183, -23.137742), (-95.807545, -21.869337), (-95.497788, -20.583547))
            Line((-95.497788, -20.583547), (-71.418606, -20.583547))
            ThreePointArc((-71.418606, -20.583547), (-71.119282, -15.129341), (-71.418606, -9.675135))
            Line((-71.418606, -9.675135), (-95.497788, -9.675135))
            ThreePointArc((-95.497788, -9.675135), (-95.807545, -8.389345), (-96.182183, -7.120939))
            Line((-96.182183, -7.120939), (-75.328999, 4.918652))
            ThreePointArc((-75.328999, 4.918652), (-77.79688, 9.791795), (-80.783205, 14.365614))
            Line((-80.783205, 14.365614), (-101.636389, 2.326023))
            ThreePointArc((-101.636389, 2.326023), (-102.547541, 3.284671), (-103.50619, 4.195824))
            Line((-103.50619, 4.195824), (-91.466598, 25.049007))
            ThreePointArc((-91.466598, 25.049007), (-96.040418, 28.035332), (-100.913561, 30.503213))
            Line((-100.913561, 30.503213), (-112.953152, 9.65003))
            ThreePointArc((-112.953152, 9.65003), (-114.221557, 10.024668), (-115.507347, 10.334424))
            Line((-115.507347, 10.334424), (-115.507347, 32.423485))
            Line((-115.507347, 32.423485), (-115.507347, 34.413607))
            ThreePointArc((-115.507347, 34.413607), (-120.961553, 34.71293), (-126.415759, 34.413607))
        make_face()
    extrude(amount=F3_DEPTH, both=True)

    # F1 (on Front) → F4 (join, symmetric)
    with BuildSketch(Plane.XZ):
        with Locations((-121.217057, -14.525875)):
            Circle(F1_R)
    extrude(amount=F4_DEPTH, both=True)


solid = Compound([f2.part, f3.part])
